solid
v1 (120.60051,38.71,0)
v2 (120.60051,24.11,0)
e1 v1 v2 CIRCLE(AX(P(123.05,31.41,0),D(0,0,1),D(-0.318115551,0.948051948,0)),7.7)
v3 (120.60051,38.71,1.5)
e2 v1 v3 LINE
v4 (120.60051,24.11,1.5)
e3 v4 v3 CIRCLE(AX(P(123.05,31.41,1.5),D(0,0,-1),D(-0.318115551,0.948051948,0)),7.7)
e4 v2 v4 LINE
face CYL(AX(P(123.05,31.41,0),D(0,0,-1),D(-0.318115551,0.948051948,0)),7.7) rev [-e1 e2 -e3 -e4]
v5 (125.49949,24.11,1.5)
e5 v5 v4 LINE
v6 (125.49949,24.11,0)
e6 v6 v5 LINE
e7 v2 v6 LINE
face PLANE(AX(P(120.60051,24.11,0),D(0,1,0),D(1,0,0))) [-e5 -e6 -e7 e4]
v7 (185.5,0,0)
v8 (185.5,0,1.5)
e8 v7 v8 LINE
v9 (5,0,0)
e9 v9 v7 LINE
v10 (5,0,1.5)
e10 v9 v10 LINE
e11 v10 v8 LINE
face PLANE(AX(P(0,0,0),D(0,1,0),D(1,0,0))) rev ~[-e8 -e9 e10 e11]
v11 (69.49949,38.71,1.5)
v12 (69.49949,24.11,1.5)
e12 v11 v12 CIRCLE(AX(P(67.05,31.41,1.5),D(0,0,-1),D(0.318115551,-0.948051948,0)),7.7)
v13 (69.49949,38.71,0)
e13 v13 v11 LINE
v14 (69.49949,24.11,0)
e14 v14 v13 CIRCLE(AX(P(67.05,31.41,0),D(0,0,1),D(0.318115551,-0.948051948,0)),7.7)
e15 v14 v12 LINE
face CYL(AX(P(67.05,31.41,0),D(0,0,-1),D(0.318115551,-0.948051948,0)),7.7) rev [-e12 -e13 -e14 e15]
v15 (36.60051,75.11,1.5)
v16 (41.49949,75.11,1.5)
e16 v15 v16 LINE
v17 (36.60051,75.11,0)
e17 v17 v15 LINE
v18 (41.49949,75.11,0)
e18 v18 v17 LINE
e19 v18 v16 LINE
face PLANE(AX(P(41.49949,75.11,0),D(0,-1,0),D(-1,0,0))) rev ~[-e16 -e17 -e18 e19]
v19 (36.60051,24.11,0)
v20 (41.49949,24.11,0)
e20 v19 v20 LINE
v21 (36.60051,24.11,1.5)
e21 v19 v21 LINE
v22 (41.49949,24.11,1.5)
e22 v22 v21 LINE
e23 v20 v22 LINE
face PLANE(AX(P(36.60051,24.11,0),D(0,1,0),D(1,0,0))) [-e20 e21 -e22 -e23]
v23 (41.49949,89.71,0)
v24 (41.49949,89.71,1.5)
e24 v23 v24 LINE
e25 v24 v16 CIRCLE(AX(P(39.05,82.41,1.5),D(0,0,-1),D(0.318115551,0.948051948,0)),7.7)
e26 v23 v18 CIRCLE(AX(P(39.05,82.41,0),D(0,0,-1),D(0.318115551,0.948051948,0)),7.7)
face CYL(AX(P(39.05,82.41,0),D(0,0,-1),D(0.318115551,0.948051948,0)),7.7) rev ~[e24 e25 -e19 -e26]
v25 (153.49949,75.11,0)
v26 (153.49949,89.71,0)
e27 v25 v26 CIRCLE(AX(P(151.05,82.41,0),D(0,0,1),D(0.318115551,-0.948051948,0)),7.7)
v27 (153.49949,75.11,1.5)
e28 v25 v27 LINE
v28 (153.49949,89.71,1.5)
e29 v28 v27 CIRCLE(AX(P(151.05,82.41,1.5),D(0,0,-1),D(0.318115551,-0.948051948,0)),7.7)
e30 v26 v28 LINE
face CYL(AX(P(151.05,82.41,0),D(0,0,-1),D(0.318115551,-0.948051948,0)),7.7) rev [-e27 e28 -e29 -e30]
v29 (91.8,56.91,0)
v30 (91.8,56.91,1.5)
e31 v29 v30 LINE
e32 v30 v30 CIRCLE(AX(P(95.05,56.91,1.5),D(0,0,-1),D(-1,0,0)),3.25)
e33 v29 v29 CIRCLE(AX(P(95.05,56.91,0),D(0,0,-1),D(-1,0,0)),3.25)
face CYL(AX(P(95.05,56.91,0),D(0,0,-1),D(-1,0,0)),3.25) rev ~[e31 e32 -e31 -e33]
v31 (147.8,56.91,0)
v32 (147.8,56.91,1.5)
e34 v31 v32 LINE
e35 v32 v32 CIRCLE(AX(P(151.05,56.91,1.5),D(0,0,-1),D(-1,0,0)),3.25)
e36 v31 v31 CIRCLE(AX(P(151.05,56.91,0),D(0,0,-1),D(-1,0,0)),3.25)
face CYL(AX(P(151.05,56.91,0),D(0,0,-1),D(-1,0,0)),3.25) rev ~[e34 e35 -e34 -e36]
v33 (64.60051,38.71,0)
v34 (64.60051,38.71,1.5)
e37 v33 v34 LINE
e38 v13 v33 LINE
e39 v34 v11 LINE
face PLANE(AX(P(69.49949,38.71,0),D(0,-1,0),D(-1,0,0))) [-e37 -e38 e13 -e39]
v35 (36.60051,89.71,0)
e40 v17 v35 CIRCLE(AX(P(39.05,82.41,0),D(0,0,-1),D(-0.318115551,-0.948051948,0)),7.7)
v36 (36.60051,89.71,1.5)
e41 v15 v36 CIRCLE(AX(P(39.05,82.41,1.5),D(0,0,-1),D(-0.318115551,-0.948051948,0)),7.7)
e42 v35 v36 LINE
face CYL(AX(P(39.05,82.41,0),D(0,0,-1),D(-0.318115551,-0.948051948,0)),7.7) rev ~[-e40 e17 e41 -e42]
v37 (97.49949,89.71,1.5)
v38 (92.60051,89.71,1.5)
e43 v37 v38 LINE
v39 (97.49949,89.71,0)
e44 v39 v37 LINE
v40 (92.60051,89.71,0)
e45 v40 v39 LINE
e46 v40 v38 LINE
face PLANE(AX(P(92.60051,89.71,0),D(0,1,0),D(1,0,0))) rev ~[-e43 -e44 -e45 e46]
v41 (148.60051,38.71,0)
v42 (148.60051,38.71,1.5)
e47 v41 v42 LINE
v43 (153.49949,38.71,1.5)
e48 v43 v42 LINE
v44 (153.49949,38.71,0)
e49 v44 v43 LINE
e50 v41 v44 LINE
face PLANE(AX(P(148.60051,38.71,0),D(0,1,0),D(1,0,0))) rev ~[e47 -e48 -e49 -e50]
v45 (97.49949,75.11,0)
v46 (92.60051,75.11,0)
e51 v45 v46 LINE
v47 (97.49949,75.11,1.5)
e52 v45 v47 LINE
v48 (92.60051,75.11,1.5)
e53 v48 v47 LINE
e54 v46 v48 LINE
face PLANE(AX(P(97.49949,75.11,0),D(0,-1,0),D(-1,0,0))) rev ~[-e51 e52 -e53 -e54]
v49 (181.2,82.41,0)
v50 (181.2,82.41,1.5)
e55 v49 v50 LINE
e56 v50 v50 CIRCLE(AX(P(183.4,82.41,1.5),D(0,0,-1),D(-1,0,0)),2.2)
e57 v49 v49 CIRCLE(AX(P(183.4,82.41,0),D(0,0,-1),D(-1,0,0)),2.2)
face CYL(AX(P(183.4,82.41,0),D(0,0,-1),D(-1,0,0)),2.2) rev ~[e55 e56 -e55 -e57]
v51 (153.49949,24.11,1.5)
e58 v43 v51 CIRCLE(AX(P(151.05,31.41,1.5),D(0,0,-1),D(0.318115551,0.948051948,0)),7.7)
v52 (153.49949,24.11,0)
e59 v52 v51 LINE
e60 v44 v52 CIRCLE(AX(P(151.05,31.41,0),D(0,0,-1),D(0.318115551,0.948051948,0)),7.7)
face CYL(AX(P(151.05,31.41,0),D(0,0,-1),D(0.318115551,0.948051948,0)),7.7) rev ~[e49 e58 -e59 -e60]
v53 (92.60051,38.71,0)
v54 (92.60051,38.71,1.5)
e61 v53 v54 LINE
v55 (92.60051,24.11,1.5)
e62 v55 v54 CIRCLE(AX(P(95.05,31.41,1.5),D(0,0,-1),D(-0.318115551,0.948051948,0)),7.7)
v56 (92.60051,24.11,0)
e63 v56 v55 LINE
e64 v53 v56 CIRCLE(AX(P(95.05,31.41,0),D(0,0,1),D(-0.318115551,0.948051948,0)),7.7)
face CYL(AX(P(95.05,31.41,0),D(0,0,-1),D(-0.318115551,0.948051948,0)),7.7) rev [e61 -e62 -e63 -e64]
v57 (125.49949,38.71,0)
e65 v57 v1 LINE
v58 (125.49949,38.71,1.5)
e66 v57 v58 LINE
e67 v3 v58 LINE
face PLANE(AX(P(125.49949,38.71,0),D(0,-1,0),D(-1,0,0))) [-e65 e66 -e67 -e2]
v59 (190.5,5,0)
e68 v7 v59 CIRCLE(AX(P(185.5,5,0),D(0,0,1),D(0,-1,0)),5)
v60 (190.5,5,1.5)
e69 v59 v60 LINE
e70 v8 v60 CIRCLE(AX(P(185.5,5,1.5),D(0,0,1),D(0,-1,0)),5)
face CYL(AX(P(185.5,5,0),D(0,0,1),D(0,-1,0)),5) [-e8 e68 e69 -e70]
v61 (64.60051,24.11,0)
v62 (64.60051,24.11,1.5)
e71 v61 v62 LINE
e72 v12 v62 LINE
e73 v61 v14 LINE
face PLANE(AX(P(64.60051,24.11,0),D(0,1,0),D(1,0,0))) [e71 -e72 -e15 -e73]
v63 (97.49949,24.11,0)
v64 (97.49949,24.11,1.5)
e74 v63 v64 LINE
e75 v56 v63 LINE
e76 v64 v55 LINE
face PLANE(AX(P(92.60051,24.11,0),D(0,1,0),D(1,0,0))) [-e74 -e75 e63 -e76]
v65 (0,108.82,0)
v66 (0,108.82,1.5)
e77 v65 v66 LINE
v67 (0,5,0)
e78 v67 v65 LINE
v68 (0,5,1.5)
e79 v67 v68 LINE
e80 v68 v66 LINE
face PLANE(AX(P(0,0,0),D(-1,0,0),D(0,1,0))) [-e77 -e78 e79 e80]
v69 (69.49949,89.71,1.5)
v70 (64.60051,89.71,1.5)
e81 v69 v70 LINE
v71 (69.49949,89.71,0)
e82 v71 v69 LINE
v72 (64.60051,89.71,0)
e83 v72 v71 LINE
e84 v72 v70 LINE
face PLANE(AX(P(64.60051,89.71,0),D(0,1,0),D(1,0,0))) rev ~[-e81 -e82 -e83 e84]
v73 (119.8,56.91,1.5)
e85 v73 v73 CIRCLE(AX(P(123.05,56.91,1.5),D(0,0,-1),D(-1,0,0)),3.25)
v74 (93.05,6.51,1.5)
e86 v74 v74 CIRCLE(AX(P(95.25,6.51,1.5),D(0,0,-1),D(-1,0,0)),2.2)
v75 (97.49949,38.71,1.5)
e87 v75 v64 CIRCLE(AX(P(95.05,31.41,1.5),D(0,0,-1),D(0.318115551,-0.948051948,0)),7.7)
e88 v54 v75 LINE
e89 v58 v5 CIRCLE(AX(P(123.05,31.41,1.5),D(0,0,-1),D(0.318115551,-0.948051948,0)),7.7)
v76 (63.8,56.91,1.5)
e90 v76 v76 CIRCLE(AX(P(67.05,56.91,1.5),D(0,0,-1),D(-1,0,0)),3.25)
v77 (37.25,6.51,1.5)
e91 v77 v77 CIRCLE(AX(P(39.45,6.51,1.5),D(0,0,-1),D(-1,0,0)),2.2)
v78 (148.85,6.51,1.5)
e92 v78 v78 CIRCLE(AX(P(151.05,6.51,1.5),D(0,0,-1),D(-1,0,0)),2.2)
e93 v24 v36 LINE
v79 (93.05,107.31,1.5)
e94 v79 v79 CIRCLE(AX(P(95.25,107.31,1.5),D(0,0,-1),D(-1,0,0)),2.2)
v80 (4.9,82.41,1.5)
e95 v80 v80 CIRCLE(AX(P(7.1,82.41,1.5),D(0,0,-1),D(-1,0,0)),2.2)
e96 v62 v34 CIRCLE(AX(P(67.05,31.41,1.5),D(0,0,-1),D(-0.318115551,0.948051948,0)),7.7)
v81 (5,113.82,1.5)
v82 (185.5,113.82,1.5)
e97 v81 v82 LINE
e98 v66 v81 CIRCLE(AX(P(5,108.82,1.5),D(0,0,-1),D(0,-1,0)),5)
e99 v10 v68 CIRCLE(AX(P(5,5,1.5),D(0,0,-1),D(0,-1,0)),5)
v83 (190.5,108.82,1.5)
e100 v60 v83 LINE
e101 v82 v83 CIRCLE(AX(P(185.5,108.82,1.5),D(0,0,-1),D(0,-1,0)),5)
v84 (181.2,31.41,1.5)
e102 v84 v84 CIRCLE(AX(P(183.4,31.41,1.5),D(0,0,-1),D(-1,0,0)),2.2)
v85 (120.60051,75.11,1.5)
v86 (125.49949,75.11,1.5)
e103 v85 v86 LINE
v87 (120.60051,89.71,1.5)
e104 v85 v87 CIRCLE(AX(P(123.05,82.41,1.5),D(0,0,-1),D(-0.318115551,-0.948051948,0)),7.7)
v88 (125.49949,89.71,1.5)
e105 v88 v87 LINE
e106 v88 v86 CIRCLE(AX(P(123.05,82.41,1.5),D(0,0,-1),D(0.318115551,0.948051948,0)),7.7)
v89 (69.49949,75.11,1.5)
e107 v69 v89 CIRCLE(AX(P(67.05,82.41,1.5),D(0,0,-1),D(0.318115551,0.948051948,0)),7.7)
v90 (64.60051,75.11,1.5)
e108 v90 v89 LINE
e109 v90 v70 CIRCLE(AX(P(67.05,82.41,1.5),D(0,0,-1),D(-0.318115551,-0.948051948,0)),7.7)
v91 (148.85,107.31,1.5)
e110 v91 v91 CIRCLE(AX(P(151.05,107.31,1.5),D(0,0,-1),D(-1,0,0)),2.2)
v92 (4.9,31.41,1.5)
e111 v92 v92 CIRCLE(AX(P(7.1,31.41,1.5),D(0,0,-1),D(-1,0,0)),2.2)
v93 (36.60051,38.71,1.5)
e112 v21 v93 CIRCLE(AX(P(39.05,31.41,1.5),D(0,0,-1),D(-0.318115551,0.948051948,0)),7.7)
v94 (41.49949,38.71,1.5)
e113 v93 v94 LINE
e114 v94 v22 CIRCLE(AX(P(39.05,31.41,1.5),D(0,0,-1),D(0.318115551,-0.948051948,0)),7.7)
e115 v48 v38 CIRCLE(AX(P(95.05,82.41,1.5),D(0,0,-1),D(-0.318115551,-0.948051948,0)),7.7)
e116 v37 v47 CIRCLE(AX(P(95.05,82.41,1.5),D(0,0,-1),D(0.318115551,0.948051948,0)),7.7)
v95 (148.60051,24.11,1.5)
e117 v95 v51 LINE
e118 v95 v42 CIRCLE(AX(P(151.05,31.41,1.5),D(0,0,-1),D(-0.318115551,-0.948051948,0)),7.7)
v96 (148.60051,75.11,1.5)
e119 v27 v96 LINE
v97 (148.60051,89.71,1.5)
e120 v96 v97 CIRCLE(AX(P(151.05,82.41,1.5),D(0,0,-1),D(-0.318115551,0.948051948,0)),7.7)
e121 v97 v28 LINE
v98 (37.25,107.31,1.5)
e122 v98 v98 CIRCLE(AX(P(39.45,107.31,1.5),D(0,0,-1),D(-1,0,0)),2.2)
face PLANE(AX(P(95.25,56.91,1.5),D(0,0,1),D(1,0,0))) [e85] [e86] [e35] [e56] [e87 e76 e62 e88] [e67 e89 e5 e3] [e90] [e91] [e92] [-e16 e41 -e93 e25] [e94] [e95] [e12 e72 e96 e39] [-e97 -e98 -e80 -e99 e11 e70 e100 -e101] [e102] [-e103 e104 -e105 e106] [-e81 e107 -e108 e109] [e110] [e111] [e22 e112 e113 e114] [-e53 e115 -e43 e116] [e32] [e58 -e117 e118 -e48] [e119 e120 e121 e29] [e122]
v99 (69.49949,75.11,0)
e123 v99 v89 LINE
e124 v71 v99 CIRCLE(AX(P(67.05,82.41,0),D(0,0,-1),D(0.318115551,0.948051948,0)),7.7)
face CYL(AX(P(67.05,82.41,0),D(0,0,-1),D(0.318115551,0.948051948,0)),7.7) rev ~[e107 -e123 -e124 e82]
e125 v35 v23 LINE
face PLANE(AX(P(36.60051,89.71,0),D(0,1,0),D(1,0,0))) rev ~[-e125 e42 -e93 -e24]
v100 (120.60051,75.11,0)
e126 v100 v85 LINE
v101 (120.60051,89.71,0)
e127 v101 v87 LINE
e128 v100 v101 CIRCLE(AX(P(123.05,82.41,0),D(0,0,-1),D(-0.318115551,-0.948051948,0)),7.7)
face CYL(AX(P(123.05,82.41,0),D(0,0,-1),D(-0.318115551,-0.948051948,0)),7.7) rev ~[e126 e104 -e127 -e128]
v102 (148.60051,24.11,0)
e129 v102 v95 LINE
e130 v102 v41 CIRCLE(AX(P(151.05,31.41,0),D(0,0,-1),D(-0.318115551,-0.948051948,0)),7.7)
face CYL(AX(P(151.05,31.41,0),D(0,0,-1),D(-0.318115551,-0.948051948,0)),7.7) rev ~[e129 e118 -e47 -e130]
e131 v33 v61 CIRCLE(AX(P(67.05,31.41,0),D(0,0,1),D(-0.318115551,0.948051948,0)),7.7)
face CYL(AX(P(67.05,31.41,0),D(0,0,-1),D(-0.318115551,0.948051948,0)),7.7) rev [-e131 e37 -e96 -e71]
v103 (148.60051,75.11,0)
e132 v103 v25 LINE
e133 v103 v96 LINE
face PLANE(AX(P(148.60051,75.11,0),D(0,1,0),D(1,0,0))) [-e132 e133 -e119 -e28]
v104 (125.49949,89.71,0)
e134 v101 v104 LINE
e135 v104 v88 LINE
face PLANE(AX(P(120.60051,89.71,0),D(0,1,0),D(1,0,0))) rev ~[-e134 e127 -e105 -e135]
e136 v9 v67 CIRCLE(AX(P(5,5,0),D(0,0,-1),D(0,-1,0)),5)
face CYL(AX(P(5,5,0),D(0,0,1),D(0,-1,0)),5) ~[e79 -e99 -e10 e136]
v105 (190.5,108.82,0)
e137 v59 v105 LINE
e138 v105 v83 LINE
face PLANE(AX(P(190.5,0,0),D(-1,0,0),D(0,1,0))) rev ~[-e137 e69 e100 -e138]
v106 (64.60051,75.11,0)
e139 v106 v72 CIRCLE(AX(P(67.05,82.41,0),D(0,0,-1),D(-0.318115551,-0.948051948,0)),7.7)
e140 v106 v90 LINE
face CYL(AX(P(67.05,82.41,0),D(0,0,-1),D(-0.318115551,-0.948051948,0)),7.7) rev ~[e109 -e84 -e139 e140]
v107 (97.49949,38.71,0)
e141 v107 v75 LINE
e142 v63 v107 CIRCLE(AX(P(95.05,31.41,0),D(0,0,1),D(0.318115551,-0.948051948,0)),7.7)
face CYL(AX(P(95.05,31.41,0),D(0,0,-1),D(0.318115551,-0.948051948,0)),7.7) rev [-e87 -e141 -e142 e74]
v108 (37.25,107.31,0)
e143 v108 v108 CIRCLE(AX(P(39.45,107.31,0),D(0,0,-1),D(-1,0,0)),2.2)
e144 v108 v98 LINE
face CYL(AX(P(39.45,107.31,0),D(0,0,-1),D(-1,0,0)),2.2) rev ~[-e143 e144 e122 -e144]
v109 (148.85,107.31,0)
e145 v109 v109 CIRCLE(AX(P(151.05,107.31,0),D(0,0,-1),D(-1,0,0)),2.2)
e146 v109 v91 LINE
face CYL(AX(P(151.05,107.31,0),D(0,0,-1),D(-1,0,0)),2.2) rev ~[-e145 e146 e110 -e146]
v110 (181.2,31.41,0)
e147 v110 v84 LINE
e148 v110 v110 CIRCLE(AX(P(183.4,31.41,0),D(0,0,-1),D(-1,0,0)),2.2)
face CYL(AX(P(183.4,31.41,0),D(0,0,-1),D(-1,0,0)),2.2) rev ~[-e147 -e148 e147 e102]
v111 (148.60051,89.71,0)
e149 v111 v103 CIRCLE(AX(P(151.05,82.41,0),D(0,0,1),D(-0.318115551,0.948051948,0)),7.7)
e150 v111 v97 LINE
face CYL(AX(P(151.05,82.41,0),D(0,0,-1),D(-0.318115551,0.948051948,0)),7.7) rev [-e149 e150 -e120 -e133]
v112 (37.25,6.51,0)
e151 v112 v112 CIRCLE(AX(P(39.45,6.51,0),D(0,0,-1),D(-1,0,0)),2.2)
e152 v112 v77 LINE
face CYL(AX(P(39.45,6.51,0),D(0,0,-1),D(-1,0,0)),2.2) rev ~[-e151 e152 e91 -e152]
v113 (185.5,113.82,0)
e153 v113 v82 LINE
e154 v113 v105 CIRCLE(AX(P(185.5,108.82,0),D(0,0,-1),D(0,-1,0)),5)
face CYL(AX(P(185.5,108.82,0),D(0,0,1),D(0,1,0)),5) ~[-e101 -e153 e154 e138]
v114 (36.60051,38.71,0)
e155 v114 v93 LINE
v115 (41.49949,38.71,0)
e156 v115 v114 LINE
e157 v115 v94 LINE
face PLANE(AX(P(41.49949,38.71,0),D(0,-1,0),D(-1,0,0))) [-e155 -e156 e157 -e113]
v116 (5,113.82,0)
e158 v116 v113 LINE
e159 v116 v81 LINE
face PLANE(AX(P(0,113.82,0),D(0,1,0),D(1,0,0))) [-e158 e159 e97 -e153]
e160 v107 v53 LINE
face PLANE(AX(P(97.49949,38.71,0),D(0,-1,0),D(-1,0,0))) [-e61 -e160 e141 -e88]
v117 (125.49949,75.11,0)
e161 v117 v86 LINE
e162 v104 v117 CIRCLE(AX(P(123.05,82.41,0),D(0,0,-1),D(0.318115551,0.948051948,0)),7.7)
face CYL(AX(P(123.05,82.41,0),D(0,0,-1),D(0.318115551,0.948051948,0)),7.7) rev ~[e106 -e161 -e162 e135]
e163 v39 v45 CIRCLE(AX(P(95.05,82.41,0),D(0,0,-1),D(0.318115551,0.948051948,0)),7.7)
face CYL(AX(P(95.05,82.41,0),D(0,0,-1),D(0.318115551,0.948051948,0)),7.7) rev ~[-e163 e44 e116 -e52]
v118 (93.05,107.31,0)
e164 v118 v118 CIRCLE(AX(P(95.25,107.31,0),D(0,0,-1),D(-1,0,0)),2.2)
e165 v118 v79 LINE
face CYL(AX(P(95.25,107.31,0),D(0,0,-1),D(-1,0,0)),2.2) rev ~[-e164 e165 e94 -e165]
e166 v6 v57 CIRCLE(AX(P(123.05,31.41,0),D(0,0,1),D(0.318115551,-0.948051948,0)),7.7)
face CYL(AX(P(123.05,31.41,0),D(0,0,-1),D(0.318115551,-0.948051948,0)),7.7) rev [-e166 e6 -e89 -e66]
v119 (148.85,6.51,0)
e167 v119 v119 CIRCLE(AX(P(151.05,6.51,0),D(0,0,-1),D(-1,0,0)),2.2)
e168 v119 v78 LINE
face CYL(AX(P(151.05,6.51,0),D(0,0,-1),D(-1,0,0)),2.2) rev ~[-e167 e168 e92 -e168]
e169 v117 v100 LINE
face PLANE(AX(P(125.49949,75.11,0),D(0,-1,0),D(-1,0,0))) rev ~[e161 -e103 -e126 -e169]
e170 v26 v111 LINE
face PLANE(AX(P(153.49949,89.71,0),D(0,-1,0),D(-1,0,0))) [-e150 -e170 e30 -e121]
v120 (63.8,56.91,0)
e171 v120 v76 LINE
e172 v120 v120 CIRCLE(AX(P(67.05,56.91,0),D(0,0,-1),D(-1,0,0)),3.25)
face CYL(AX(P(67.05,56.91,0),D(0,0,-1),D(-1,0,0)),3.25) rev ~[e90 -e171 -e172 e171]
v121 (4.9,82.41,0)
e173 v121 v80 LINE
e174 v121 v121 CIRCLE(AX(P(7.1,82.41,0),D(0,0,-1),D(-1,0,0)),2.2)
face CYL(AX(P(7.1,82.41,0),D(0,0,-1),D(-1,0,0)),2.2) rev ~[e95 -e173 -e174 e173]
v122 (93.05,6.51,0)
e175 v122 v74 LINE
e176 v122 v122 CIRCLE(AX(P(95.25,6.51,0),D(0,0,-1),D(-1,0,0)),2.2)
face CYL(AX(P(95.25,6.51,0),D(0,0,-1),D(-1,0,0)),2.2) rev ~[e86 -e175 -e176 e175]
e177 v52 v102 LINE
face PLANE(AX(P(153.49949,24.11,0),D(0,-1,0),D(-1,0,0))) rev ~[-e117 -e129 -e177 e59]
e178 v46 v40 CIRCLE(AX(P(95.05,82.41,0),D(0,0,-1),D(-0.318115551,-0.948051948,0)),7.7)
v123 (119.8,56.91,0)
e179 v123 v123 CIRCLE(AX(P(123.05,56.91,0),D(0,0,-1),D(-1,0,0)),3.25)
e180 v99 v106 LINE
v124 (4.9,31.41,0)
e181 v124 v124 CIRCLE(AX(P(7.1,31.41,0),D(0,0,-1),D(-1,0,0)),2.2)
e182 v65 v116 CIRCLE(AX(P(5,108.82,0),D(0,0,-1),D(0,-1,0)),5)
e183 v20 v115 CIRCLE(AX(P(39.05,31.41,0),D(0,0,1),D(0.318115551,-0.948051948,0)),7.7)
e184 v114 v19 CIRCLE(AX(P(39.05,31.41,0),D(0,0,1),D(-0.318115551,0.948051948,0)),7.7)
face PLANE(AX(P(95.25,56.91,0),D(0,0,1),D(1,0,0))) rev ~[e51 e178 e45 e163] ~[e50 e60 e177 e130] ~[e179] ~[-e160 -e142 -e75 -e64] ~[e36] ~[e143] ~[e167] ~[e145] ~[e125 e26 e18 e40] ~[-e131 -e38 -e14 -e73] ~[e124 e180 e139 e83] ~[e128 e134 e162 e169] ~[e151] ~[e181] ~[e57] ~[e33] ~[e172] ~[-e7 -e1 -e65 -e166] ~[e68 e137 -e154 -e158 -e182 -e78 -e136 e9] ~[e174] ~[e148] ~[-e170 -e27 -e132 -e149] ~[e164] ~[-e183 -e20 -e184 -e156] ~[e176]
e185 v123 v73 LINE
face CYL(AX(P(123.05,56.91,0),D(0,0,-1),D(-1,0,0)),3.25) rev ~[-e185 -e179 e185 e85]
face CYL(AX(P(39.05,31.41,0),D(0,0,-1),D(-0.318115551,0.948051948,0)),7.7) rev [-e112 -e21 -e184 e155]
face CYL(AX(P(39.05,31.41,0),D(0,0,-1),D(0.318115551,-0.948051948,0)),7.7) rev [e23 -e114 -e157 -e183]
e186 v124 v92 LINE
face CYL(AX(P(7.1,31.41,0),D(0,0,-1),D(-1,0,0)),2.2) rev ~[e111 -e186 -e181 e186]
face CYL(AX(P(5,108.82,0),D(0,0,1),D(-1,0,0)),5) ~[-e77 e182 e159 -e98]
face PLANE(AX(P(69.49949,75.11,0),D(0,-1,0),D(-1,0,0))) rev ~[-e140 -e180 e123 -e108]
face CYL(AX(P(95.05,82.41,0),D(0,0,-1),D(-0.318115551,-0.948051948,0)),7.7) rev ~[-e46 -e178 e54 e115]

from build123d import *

# Parameters (mm, degrees)
SKETCH1_W           = 190.5
SKETCH1_H           = 113.82
BOSS_EXTRUDE1_DEPTH = 1.5
SKETCH2_R           = 2.2
CUT_EXTRUDE1_DEPTH  = 2.5
SKETCH3_R           = 2.2
CUT_EXTRUDE2_DEPTH  = 2.5
SKETCH4_R           = 3.25
CUT_EXTRUDE3_DEPTH  = 2.5
FILLET1_R           = 5
FILLET2_R           = 5


with BuildPart() as part:
    # Sketch1 → Boss-Extrude1 (new body)
    with BuildSketch(Plane.XY):
        with Locations((95.25, 56.91)):
            Rectangle(SKETCH1_W, SKETCH1_H)
    extrude(amount=BOSS_EXTRUDE1_DEPTH)

    # Sketch2 → Cut-Extrude1 (cut, through all)
    with BuildSketch(Plane(origin=(0, 0, 0), x_dir=(-1, 0, 0), z_dir=(0, 0, -1))):
        with Locations((-183.4, 82.41)):
            Circle(SKETCH2_R)
        with Locations((-183.4, 31.41)):
            Circle(SKETCH2_R)
        with Locations((-7.1, 31.41)):
            Circle(SKETCH2_R)
        with Locations((-7.1, 82.41)):
            Circle(SKETCH2_R)
    extrude(amount=-CUT_EXTRUDE1_DEPTH, mode=Mode.SUBTRACT)

    # Sketch3 → Cut-Extrude2 (cut, through all)
    with BuildSketch(Plane(origin=(0, 0, 0), x_dir=(-1, 0, 0), z_dir=(0, 0, -1))):
        with Locations((-95.25, 107.31)):
            Circle(SKETCH3_R)
        with Locations((-39.45, 107.31)):
            Circle(SKETCH3_R)
        with Locations((-151.05, 107.31)):
            Circle(SKETCH3_R)
        with Locations((-39.45, 6.51)):
            Circle(SKETCH3_R)
        with Locations((-95.25, 6.51)):
            Circle(SKETCH3_R)
        with Locations((-151.05, 6.51)):
            Circle(SKETCH3_R)
    extrude(amount=-CUT_EXTRUDE2_DEPTH, mode=Mode.SUBTRACT)

    # Sketch4 → Cut-Extrude3 (cut, through all)
    with BuildSketch(Plane(origin=(0, 0, 0), x_dir=(-1, 0, 0), z_dir=(0, 0, -1))):
        with Locations((-151.05, 56.91)):
            Circle(SKETCH4_R)
        with Locations((-123.05, 56.91)):
            Circle(SKETCH4_R)
        with Locations((-95.05, 56.91)):
            Circle(SKETCH4_R)
        with Locations((-67.05, 56.91)):
            Circle(SKETCH4_R)
        with BuildLine():
            Line((-153.499489743, 89.71), (-148.600510257, 89.71))
            ThreePointArc((-148.600510257, 89.71), (-143.35, 82.41), (-148.600510257, 75.11))
            Line((-148.600510257, 75.11), (-153.499489743, 75.11))
            ThreePointArc((-153.499489743, 75.11), (-158.75, 82.41), (-153.499489743, 89.71))
        make_face()
        with BuildLine():
            Line((-153.499489743, 24.11), (-148.600510257, 24.11))
            ThreePointArc((-148.600510257, 24.11), (-143.35, 31.41), (-148.600510257, 38.71))
            Line((-148.600510257, 38.71), (-153.499489743, 38.71))
            ThreePointArc((-153.499489743, 38.71), (-158.75, 31.41), (-153.499489743, 24.11))
        make_face()
        with BuildLine():
            Line((-125.499489743, 75.11), (-120.600510257, 75.11))
            ThreePointArc((-120.600510257, 75.11), (-115.35, 82.41), (-120.600510257, 89.71))
            Line((-120.600510257, 89.71), (-125.499489743, 89.71))
            ThreePointArc((-125.499489743, 89.71), (-130.75, 82.41), (-125.499489743, 75.11))
        make_face()
        with BuildLine():
            Line((-125.499489743, 38.71), (-120.600510257, 38.71))
            ThreePointArc((-120.600510257, 38.71), (-115.35, 31.41), (-120.600510257, 24.11))
            Line((-120.600510257, 24.11), (-125.499489743, 24.11))
            ThreePointArc((-125.499489743, 24.11), (-130.75, 31.41), (-125.499489743, 38.71))
        make_face()
        with BuildLine():
            Line((-97.499489743, 75.11), (-92.600510257, 75.11))
            ThreePointArc((-92.600510257, 75.11), (-87.35, 82.41), (-92.600510257, 89.71))
            Line((-92.600510257, 89.71), (-97.499489743, 89.71))
            ThreePointArc((-97.499489743, 89.71), (-102.75, 82.41), (-97.499489743, 75.11))
        make_face()
        with BuildLine():
            Line((-97.499489743, 38.71), (-92.600510257, 38.71))
            ThreePointArc((-92.600510257, 38.71), (-87.35, 31.41), (-92.600510257, 24.11))
            Line((-92.600510257, 24.11), (-97.499489743, 24.11))
            ThreePointArc((-97.499489743, 24.11), (-102.75, 31.41), (-97.499489743, 38.71))
        make_face()
        with BuildLine():
            Line((-69.499489743, 75.11), (-64.600510257, 75.11))
            ThreePointArc((-64.600510257, 75.11), (-59.35, 82.41), (-64.600510257, 89.71))
            Line((-64.600510257, 89.71), (-69.499489743, 89.71))
            ThreePointArc((-69.499489743, 89.71), (-74.75, 82.41), (-69.499489743, 75.11))
        make_face()
        with BuildLine():
            Line((-69.499489743, 38.71), (-64.600510257, 38.71))
            ThreePointArc((-64.600510257, 38.71), (-59.35, 31.41), (-64.600510257, 24.11))
            Line((-64.600510257, 24.11), (-69.499489743, 24.11))
            ThreePointArc((-69.499489743, 24.11), (-74.75, 31.41), (-69.499489743, 38.71))
        make_face()
        with BuildLine():
            Line((-41.499489743, 75.11), (-36.600510257, 75.11))
            ThreePointArc((-36.600510257, 75.11), (-31.35, 82.41), (-36.600510257, 89.71))
            Line((-36.600510257, 89.71), (-41.499489743, 89.71))
            ThreePointArc((-41.499489743, 89.71), (-46.75, 82.41), (-41.499489743, 75.11))
        make_face()
        with BuildLine():
            Line((-41.499489743, 38.71), (-36.600510257, 38.71))
            ThreePointArc((-36.600510257, 38.71), (-31.35, 31.41), (-36.600510257, 24.11))
            Line((-36.600510257, 24.11), (-41.499489743, 24.11))
            ThreePointArc((-41.499489743, 24.11), (-46.75, 31.41), (-41.499489743, 38.71))
        make_face()
    extrude(amount=-CUT_EXTRUDE3_DEPTH, mode=Mode.SUBTRACT)

    # Fillet1
    fillet1_edges = [part.edges().sort_by_distance(p)[0] for p in [
        (190.5, 113.82, 0.75),
        (190.5, 0, 0.75),
    ]]
    fillet(fillet1_edges, radius=FILLET1_R)

    # Fillet2
    fillet2_edges = [part.edges().sort_by_distance(p)[0] for p in [
        (0, 113.82, 0.75),
        (0, 0, 0.75),
    ]]
    fillet(fillet2_edges, radius=FILLET2_R)


solid = part.part
